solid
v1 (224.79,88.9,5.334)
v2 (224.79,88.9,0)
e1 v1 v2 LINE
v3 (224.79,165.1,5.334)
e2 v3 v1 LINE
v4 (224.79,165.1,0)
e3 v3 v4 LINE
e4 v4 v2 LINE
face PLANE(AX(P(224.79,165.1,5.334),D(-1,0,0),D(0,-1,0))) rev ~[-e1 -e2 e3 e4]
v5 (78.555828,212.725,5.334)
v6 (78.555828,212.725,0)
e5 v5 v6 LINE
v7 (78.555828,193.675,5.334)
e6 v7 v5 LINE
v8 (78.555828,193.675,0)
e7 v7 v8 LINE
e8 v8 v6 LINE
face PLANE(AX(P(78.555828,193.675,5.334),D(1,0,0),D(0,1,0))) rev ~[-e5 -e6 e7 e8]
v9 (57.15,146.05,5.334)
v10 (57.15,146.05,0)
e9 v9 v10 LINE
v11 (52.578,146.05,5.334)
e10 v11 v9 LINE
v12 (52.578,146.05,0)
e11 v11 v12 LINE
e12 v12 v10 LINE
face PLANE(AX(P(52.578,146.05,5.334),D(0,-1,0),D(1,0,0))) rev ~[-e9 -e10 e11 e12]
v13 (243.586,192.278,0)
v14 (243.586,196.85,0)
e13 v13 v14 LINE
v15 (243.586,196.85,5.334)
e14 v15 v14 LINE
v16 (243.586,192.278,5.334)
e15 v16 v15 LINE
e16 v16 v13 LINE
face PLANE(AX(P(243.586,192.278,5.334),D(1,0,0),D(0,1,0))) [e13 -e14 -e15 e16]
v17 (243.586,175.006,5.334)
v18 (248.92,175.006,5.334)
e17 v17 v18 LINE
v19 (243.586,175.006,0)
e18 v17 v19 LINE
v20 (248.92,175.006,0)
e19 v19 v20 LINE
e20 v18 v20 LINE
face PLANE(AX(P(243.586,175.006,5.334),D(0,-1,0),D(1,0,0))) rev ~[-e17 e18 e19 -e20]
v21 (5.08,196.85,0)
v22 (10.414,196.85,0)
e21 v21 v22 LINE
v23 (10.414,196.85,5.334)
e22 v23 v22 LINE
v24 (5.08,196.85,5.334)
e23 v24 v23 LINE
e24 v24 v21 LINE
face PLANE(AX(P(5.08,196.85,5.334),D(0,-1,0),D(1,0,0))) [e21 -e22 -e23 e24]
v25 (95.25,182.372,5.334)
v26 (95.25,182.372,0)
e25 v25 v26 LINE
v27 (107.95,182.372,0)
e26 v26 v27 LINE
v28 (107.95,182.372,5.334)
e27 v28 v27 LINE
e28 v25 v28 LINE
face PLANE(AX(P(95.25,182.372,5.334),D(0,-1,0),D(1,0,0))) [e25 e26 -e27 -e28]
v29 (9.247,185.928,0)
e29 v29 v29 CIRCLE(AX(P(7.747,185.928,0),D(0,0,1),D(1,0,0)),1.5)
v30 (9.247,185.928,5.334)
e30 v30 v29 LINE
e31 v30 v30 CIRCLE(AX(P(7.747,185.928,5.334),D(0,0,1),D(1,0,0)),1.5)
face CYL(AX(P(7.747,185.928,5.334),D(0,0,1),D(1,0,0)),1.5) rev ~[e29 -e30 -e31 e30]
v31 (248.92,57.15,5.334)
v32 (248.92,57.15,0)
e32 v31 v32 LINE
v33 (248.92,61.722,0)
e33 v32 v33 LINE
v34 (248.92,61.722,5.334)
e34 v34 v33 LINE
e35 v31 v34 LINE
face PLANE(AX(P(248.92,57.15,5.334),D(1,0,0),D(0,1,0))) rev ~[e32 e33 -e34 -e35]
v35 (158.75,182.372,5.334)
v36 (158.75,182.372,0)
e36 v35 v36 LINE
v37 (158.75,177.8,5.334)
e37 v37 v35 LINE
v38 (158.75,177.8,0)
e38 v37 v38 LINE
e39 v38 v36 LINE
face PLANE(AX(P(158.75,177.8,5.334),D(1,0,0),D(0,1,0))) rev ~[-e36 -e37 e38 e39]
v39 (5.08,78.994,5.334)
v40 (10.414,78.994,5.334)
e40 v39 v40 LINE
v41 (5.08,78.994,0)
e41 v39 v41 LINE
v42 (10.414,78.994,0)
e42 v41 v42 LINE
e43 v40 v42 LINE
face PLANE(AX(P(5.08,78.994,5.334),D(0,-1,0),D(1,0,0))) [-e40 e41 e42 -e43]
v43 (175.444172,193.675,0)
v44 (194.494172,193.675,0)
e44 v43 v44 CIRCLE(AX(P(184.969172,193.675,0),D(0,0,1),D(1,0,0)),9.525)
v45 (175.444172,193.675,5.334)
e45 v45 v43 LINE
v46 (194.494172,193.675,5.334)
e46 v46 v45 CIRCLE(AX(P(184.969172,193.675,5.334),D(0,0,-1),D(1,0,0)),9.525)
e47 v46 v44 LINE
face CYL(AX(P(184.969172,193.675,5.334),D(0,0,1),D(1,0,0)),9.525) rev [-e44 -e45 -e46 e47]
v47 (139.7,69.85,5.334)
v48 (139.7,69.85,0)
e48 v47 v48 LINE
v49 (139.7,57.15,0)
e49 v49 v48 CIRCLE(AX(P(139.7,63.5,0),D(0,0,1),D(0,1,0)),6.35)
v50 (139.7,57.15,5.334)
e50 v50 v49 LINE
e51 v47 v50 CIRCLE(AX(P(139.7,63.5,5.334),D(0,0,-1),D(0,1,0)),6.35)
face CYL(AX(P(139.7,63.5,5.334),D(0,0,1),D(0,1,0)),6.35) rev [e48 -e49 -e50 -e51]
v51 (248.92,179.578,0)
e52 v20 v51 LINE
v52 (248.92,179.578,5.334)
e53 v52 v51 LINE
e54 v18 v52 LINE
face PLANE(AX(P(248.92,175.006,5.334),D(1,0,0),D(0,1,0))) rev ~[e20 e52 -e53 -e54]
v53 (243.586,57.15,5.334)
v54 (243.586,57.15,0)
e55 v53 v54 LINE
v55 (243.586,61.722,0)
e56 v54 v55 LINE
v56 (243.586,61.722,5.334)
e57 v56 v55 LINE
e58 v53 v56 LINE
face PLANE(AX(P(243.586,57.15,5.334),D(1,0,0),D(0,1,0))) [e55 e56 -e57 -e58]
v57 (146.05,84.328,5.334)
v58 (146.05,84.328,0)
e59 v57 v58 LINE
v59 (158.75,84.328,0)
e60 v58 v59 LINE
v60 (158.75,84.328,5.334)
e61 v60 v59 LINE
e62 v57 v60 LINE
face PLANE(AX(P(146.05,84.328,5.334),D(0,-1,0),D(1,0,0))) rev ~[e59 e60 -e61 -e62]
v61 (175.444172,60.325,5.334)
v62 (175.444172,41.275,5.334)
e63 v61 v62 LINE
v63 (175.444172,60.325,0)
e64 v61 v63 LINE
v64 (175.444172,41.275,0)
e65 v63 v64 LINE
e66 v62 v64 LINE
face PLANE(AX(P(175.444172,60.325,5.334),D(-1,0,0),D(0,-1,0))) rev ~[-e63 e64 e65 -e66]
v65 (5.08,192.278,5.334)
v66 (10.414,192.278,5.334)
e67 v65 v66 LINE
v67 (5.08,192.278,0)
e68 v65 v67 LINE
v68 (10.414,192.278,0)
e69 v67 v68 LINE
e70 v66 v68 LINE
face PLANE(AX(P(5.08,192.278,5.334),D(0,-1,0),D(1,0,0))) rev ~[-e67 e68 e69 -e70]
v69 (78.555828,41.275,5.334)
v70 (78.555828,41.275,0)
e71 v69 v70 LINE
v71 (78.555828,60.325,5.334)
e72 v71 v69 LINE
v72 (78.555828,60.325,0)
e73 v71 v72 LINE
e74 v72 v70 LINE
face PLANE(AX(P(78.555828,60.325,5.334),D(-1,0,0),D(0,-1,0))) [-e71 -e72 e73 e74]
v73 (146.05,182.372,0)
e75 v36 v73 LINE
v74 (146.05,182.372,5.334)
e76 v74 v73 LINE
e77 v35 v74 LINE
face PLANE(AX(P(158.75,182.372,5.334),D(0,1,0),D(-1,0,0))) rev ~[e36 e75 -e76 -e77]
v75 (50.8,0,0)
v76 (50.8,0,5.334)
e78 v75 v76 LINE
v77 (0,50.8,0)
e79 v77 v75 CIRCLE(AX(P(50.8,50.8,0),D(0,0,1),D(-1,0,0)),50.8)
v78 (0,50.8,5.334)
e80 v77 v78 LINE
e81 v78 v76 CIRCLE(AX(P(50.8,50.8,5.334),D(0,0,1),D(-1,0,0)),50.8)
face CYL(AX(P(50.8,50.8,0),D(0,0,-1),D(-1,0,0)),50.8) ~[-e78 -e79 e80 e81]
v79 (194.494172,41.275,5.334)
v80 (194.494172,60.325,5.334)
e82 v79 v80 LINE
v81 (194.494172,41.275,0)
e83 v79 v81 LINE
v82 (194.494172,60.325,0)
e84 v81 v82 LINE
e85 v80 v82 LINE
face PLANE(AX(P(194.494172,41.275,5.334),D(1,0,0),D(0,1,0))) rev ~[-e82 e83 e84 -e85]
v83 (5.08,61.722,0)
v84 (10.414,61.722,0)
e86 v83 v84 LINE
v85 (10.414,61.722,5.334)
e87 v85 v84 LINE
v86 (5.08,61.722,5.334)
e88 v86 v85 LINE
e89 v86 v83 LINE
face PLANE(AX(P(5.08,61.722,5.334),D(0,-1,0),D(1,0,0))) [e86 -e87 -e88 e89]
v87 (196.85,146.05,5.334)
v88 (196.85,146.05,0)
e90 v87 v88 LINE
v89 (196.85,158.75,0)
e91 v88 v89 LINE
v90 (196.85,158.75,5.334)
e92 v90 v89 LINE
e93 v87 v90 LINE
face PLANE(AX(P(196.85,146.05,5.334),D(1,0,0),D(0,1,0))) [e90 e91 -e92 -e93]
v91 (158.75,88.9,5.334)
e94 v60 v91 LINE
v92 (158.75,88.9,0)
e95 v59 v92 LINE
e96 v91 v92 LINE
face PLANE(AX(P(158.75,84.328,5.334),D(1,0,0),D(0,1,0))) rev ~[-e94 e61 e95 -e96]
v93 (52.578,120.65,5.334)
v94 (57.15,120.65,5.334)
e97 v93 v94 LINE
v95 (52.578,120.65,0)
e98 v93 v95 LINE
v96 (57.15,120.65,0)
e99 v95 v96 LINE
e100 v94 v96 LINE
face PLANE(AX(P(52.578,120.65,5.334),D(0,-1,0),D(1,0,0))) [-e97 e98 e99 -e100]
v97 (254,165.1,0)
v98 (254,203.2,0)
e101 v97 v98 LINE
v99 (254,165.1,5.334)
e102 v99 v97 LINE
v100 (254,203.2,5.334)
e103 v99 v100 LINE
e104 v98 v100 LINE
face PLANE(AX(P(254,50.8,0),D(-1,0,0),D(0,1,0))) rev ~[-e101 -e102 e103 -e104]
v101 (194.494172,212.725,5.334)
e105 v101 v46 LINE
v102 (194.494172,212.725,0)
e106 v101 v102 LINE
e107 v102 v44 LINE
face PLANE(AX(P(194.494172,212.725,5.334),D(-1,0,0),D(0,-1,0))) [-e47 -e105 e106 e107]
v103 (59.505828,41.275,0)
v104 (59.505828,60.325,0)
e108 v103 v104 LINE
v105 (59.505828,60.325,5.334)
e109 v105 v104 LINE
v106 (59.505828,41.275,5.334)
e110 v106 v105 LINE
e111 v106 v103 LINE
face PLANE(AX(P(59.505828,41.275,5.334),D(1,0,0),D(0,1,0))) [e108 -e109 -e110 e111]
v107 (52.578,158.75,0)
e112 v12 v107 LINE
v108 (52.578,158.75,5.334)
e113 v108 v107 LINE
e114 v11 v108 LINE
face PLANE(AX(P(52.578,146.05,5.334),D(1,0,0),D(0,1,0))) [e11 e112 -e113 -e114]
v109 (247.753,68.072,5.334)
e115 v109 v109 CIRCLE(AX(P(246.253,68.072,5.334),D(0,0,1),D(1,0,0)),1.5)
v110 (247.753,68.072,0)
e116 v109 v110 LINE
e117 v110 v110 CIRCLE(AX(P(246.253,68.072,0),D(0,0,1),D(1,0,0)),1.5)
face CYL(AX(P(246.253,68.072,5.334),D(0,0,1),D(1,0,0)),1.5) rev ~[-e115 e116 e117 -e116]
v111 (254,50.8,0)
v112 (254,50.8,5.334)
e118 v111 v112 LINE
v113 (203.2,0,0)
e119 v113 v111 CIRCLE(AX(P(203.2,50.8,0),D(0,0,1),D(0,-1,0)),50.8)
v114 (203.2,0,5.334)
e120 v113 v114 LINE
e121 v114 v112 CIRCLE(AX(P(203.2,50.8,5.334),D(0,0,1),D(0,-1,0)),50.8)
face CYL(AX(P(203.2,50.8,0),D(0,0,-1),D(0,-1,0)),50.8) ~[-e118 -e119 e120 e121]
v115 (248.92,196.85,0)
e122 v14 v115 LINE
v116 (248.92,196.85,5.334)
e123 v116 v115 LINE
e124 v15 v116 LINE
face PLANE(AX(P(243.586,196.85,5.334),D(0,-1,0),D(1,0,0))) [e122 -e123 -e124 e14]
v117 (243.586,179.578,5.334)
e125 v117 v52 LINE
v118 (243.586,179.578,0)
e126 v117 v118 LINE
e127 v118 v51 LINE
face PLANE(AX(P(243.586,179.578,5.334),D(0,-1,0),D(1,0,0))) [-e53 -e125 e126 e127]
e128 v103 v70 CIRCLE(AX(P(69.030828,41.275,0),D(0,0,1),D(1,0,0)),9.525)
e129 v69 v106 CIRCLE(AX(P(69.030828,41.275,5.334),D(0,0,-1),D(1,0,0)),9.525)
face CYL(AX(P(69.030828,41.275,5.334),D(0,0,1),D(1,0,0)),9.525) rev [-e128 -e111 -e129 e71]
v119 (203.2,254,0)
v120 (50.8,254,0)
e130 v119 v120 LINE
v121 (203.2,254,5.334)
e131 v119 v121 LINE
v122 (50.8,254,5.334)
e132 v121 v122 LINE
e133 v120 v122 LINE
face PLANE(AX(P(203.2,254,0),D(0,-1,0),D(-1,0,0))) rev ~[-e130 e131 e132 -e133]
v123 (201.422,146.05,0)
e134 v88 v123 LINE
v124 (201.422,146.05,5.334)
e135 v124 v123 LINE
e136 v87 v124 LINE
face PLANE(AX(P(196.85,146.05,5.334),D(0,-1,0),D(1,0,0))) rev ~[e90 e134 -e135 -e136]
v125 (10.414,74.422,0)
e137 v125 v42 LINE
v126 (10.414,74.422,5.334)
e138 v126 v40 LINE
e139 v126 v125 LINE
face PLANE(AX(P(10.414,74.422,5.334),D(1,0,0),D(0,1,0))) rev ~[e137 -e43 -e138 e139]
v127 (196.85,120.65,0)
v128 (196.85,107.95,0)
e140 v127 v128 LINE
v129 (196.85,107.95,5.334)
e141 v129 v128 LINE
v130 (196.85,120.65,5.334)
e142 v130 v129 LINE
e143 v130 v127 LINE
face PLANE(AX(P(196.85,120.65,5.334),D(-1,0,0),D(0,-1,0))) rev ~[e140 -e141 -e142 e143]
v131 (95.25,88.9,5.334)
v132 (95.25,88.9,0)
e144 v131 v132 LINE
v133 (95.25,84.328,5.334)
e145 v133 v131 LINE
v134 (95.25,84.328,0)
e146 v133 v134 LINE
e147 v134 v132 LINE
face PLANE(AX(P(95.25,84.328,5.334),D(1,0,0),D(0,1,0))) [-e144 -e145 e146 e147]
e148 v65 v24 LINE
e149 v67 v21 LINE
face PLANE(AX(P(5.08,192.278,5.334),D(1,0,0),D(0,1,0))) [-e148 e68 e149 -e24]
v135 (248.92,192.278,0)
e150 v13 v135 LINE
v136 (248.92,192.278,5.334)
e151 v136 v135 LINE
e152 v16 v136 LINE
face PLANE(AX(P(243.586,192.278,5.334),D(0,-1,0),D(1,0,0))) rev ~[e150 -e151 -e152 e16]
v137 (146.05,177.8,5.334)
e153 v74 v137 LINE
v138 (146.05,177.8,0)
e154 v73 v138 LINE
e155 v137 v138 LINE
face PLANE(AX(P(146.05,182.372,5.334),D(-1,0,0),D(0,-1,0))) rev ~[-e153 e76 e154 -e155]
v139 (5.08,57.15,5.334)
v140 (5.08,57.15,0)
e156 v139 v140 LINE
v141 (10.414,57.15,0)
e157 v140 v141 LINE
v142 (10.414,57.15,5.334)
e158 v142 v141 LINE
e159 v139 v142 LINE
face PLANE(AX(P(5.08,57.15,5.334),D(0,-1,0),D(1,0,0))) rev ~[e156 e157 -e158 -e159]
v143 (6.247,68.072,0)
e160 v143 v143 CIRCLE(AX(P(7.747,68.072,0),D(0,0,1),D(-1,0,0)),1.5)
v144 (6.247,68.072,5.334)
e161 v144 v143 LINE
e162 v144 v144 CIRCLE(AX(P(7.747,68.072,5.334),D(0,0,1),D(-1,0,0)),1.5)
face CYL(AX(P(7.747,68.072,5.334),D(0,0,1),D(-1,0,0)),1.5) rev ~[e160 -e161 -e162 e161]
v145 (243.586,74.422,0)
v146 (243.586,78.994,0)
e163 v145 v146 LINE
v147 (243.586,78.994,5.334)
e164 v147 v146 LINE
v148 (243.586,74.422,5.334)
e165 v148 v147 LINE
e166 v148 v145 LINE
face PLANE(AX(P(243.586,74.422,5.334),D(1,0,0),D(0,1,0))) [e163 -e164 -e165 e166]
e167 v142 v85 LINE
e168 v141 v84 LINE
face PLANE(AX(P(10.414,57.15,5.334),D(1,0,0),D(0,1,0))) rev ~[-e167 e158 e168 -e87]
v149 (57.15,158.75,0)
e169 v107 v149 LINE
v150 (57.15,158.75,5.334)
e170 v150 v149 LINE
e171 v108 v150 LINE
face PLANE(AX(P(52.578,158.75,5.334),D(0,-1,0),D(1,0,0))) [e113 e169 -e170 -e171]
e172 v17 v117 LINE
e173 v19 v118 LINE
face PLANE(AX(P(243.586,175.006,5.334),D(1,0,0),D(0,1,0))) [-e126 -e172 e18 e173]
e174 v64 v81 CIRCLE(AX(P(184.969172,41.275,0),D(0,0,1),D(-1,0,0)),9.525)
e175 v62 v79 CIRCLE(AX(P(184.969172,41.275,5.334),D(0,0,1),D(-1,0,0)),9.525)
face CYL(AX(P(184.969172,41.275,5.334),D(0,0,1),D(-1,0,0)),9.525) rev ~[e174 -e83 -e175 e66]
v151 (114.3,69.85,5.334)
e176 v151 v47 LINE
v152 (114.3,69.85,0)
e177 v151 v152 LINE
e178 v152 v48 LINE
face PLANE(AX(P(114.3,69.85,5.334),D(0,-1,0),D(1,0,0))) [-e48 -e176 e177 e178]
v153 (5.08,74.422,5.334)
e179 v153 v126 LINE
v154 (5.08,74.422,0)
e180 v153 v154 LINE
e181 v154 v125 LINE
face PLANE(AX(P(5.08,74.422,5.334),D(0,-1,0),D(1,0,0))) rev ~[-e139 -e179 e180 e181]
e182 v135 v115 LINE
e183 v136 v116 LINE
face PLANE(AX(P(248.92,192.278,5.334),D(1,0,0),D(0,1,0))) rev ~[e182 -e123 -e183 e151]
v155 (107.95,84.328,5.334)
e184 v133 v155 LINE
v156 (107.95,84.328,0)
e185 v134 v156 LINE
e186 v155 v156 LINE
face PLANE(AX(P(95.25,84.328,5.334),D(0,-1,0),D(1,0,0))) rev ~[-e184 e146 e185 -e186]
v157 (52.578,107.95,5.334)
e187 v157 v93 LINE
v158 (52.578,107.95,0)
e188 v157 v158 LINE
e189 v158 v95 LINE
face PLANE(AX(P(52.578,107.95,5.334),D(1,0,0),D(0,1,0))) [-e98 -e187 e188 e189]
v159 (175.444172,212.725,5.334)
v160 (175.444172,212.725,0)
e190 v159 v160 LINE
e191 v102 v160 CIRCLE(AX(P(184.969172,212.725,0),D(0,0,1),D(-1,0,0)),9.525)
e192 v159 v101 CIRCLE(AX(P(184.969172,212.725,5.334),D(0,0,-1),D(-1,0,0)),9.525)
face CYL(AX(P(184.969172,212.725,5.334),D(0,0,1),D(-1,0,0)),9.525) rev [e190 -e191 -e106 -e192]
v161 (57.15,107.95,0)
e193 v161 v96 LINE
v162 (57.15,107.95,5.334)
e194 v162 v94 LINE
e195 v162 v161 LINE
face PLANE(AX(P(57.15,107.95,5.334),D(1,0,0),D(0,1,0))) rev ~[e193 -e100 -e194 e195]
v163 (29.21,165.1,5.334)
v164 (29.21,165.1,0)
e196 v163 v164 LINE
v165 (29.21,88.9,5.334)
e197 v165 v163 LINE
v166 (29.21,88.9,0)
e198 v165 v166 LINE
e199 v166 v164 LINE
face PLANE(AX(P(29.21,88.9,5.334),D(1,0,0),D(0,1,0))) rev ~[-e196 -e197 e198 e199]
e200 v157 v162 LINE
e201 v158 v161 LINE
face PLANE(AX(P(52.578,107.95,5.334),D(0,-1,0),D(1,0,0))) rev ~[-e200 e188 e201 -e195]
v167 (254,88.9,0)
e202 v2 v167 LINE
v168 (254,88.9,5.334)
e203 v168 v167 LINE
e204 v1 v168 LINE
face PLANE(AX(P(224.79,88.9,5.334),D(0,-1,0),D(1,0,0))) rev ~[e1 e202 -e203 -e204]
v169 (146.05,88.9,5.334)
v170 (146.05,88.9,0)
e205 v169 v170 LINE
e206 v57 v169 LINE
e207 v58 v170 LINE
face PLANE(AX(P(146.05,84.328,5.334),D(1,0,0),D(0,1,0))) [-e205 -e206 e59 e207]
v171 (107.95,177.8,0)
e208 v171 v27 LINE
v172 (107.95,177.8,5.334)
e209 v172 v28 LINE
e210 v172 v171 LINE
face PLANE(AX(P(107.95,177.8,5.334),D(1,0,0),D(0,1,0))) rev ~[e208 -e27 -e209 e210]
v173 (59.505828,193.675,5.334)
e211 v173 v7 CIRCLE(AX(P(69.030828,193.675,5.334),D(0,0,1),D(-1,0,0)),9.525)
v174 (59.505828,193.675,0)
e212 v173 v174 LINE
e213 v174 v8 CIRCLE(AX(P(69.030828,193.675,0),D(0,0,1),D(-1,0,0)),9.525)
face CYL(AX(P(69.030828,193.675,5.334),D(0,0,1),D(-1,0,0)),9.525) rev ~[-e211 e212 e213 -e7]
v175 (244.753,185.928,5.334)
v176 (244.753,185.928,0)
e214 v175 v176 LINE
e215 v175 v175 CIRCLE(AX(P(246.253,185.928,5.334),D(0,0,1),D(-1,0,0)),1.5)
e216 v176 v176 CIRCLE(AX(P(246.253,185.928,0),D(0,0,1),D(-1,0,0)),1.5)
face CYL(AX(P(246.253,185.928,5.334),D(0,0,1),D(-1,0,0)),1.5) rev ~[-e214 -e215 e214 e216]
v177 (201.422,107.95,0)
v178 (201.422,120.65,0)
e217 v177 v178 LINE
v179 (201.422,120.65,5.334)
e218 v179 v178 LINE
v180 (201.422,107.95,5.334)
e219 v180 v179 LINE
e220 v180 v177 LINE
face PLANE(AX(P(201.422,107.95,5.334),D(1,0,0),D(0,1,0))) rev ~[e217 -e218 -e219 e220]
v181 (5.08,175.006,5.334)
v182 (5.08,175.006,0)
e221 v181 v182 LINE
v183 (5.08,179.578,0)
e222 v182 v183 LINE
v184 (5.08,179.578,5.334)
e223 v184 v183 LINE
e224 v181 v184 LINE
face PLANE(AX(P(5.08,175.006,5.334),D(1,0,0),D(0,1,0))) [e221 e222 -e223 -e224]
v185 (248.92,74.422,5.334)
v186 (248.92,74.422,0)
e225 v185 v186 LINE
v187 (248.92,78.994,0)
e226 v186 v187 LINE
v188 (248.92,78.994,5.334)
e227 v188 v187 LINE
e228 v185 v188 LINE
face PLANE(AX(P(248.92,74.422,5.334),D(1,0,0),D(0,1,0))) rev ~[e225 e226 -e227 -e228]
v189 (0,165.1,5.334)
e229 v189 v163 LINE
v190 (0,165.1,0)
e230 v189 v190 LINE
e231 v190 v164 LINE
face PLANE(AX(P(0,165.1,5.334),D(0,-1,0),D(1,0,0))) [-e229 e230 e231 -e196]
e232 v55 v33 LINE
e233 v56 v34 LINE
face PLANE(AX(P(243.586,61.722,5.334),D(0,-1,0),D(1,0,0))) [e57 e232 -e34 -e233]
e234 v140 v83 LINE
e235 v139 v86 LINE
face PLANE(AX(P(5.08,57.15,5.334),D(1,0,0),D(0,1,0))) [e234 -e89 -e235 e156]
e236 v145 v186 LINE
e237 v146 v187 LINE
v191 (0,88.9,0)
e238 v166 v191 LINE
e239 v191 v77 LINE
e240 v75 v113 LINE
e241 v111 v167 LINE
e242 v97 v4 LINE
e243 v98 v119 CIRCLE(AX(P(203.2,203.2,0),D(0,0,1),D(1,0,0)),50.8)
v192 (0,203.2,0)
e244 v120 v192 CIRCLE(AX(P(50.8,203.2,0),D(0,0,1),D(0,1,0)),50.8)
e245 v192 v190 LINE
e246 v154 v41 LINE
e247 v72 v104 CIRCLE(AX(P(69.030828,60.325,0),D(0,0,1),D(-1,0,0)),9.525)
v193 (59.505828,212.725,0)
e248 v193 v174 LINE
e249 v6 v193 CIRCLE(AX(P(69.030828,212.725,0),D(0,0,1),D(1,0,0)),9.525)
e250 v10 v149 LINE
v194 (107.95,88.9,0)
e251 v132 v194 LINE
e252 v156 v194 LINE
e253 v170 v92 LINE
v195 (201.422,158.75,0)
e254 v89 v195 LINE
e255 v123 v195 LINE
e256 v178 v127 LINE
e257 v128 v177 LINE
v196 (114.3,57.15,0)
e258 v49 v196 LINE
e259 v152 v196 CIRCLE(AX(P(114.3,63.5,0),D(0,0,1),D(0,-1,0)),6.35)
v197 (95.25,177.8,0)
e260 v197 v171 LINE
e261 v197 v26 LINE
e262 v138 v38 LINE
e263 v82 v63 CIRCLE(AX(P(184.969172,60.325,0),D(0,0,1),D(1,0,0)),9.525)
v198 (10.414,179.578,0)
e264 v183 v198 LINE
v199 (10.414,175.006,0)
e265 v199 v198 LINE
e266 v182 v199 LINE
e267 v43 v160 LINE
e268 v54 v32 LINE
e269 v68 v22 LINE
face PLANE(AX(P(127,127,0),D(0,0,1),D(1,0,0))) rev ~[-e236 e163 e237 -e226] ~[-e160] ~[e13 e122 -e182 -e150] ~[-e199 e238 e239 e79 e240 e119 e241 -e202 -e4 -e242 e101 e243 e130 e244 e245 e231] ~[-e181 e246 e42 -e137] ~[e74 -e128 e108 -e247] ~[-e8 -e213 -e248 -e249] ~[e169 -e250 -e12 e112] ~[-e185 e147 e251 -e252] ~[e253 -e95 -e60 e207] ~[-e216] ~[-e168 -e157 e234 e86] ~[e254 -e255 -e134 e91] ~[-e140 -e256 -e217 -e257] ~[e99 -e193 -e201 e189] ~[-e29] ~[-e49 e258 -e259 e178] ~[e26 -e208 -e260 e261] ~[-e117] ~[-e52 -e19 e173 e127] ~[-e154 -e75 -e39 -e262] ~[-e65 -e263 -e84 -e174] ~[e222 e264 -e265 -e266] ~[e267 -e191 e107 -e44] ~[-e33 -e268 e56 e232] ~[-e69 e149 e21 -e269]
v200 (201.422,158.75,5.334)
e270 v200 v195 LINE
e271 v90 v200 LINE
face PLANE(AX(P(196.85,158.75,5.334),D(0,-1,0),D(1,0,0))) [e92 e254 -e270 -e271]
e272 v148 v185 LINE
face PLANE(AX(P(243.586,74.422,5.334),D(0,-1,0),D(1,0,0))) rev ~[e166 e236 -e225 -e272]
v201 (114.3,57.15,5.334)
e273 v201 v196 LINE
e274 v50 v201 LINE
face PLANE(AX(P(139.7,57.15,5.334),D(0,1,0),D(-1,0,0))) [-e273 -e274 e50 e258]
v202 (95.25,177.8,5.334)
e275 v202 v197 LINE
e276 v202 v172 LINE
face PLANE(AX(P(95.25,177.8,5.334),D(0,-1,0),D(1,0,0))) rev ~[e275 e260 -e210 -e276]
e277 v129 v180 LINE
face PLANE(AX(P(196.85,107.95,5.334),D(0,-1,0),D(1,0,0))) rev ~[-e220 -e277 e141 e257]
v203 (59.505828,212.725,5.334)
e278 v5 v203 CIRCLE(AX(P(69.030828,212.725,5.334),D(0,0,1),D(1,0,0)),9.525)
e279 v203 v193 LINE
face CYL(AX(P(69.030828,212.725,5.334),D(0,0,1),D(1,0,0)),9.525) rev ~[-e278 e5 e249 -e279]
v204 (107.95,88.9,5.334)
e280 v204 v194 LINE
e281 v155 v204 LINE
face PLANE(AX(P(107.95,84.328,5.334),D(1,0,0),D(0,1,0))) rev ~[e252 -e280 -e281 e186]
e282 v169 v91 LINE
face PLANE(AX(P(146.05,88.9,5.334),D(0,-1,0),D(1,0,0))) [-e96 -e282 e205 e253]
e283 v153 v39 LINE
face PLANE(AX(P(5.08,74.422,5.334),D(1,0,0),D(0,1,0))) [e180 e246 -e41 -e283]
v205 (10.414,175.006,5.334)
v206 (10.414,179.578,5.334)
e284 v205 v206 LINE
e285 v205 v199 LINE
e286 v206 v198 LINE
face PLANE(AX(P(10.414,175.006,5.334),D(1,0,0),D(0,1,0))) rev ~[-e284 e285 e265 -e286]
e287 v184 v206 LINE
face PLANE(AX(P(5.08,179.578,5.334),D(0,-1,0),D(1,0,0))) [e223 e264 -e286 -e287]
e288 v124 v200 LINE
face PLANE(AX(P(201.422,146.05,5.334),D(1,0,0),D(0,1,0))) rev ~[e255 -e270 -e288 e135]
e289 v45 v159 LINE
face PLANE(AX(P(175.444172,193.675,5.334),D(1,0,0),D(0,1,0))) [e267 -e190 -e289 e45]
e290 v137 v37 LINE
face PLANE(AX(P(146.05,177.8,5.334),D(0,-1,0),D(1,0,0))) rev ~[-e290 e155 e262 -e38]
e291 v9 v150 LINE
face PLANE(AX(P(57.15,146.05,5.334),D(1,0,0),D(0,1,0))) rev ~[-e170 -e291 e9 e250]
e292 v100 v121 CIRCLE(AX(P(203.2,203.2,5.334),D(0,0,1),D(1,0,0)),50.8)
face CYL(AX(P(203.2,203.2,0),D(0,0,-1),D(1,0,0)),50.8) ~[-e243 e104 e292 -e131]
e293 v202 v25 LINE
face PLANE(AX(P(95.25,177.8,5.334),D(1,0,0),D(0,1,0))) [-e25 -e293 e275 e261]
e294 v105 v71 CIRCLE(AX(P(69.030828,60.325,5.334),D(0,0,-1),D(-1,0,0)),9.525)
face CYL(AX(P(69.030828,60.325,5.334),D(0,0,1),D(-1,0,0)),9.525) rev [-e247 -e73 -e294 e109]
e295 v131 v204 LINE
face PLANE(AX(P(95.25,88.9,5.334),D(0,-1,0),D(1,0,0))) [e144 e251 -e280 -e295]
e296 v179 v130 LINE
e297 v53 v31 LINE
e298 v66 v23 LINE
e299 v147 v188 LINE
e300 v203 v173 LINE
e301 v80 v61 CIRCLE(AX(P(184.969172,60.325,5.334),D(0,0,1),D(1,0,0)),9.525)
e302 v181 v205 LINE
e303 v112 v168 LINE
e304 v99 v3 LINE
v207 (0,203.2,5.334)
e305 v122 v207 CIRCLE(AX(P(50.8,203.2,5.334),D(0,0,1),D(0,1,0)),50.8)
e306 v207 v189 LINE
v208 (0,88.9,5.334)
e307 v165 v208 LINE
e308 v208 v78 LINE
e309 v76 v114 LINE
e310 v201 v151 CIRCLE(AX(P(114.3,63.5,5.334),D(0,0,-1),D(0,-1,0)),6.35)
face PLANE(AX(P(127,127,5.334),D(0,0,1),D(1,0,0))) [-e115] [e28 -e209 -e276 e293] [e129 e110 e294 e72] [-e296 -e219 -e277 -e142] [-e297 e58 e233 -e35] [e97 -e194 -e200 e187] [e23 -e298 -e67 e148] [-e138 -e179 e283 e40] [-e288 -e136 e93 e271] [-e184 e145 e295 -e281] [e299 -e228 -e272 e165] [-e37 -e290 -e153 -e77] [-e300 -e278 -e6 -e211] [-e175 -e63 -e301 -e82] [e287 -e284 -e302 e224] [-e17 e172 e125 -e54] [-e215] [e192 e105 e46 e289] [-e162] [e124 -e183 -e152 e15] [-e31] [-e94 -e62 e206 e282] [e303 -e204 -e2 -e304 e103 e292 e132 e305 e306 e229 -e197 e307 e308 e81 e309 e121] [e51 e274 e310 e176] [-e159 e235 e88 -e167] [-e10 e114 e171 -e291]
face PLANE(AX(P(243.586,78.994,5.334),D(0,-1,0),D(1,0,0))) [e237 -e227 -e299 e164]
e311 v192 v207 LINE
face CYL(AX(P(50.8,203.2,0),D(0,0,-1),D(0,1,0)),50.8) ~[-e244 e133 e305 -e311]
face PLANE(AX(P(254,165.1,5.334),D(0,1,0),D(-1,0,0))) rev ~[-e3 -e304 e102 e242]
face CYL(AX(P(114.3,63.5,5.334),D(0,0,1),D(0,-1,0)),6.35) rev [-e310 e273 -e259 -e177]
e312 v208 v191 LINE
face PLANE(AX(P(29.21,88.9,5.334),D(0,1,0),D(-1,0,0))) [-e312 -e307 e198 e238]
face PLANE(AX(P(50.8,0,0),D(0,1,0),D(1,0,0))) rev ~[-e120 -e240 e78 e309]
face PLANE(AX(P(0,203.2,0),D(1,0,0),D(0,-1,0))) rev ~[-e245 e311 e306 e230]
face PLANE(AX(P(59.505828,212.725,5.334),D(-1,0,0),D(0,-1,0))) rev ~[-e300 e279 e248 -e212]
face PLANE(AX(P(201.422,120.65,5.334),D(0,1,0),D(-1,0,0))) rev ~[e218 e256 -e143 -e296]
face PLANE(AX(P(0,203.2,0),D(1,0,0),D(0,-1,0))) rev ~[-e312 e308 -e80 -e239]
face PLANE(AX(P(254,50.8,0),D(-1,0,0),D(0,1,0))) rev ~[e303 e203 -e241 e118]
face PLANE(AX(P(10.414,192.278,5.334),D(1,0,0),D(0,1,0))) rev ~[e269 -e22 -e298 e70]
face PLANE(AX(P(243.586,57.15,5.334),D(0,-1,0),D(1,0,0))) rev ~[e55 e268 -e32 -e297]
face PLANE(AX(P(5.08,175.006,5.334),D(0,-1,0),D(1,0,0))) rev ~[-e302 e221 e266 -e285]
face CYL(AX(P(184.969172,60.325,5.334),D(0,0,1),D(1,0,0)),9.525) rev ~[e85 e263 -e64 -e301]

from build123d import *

# Parameters (mm, degrees)
BOSS_EXTRUDE1_DEPTH = 5.334
CUT_EXTRUDE1_DEPTH  = 5.334
SKETCH6_R           = 1.5
SKETCH6_W           = 5.334
SKETCH6_H           = 4.572
CUT_EXTRUDE4_DEPTH  = 360.249845589
CUT_EXTRUDE5_DEPTH  = 360.249845589
CUT_EXTRUDE6_DEPTH  = 7.62
SKETCH11_W          = 12.7
SKETCH11_H          = 4.572
SKETCH11_W_2        = 4.572
SKETCH11_H_2        = 12.7
CUT_EXTRUDE9_DEPTH  = 360.249845589


with BuildPart() as part:
    # Sketch1 → Boss-Extrude1 (new body)
    with BuildSketch(Plane.XY):
        with BuildLine():
            Line((50.8, 0), (203.2, 0))
            ThreePointArc((203.2, 0), (239.121024484, 14.878975516), (254, 50.8))
            Line((254, 50.8), (254, 203.2))
            ThreePointArc((254, 203.2), (239.121024484, 239.121024484), (203.2, 254))
            Line((203.2, 254), (50.8, 254))
            ThreePointArc((50.8, 254), (14.878975516, 239.121024484), (0, 203.2))
            Line((0, 203.2), (0, 50.8))
            ThreePointArc((0, 50.8), (14.878975516, 14.878975516), (50.8, 0))
        make_face()
    extrude(amount=BOSS_EXTRUDE1_DEPTH)

    # Sketch3 → Cut-Extrude1 (cut)
    with BuildSketch(Plane.XY.offset(5.334)):
        Polygon((29.21, 95.25), (29.21, 88.9), (0, 88.9), (0, 165.1), (29.21, 165.1), (29.21, 158.75), (29.21, 146.05), (29.21, 133.35), (29.21, 120.65), (29.21, 107.95), align=None)
        Polygon((254, 165.1), (224.79, 165.1), (224.79, 158.75), (224.79, 146.05), (224.79, 133.35), (224.79, 120.65), (224.79, 107.95), (224.79, 95.25), (224.79, 88.9), (254, 88.9), align=None)
    extrude(amount=-CUT_EXTRUDE1_DEPTH, mode=Mode.SUBTRACT)

    # Sketch6 → Cut-Extrude4 (cut, through all)
    with BuildSketch(Plane.XY.offset(5.334)):
        with Locations((7.747, 185.928)):
            Circle(SKETCH6_R)
        with Locations(Location((246.253, 185.928, 0), (0, 0, 180))):
            Circle(SKETCH6_R)
        with Locations((246.253, 68.072)):
            Circle(SKETCH6_R)
        with Locations(Location((7.747, 68.072, 0), (0, 0, 180))):
            Circle(SKETCH6_R)
        with Locations((7.747, 194.564)):
            Rectangle(SKETCH6_W, SKETCH6_H)
        with Locations((7.747, 177.292)):
            Rectangle(SKETCH6_W, SKETCH6_H)
        with Locations((246.253, 177.292)):
            Rectangle(SKETCH6_W, SKETCH6_H)
        with Locations((246.253, 194.564)):
            Rectangle(SKETCH6_W, SKETCH6_H)
        with Locations((246.253, 59.436)):
            Rectangle(SKETCH6_W, SKETCH6_H)
        with Locations((246.253, 76.708)):
            Rectangle(SKETCH6_W, SKETCH6_H)
        with Locations((7.747, 76.708)):
            Rectangle(SKETCH6_W, SKETCH6_H)
        with Locations((7.747, 59.436)):
            Rectangle(SKETCH6_W, SKETCH6_H)
    extrude(amount=-CUT_EXTRUDE4_DEPTH, mode=Mode.SUBTRACT)

    # Sketch7 → Cut-Extrude5 (cut, through all)
    with BuildSketch(Plane.XY.offset(5.334)):
        with BuildLine():
            Line((78.555827904, 60.325), (78.555827904, 41.275))
            ThreePointArc((78.555827904, 41.275), (69.030827904, 31.75), (59.505827904, 41.275))
            Line((59.505827904, 41.275), (59.505827904, 60.325))
            ThreePointArc((59.505827904, 60.325), (69.030827904, 69.85), (78.555827904, 60.325))
        make_face()
        with BuildLine():
            Line((175.444172096, 60.325), (175.444172096, 41.275))
            ThreePointArc((175.444172096, 41.275), (184.969172096, 31.75), (194.494172096, 41.275))
            Line((194.494172096, 41.275), (194.494172096, 60.325))
            ThreePointArc((194.494172096, 60.325), (184.969172096, 69.85), (175.444172096, 60.325))
        make_face()
        with BuildLine():
            Line((175.444172096, 193.675), (175.444172096, 212.725))
            ThreePointArc((175.444172096, 212.725), (184.969172096, 222.25), (194.494172096, 212.725))
            Line((194.494172096, 212.725), (194.494172096, 193.675))
            ThreePointArc((194.494172096, 193.675), (184.969172096, 184.15), (175.444172096, 193.675))
        make_face()
        with BuildLine():
            Line((78.555827904, 193.675), (78.555827904, 212.725))
            ThreePointArc((78.555827904, 212.725), (69.030827904, 222.25), (59.505827904, 212.725))
            Line((59.505827904, 212.725), (59.505827904, 193.675))
            ThreePointArc((59.505827904, 193.675), (69.030827904, 184.15), (78.555827904, 193.675))
        make_face()
    extrude(amount=-CUT_EXTRUDE5_DEPTH, mode=Mode.SUBTRACT)

    # Sketch8 → Cut-Extrude6 (cut)
    with BuildSketch(Plane.XY.offset(5.334)):
        with BuildLine():
            Line((114.3, 69.85), (139.7, 69.85))
            ThreePointArc((139.7, 69.85), (146.05, 63.5), (139.7, 57.15))
            Line((139.7, 57.15), (114.3, 57.15))
            ThreePointArc((114.3, 57.15), (107.95, 63.5), (114.3, 69.85))
        make_face()
    extrude(amount=-CUT_EXTRUDE6_DEPTH, mode=Mode.SUBTRACT)

    # Sketch11 → Cut-Extrude9 (cut, through all)
    with BuildSketch(Plane.XY.offset(5.334)):
        Polygon((146.05, 182.372), (146.05, 177.8), (158.603579352, 177.8), (158.75, 177.8), (158.75, 182.372), align=None)
        with Locations((101.6, 180.086)):
            Rectangle(SKETCH11_W, SKETCH11_H)
        with Locations((199.136, 152.4)):
            Rectangle(SKETCH11_W_2, SKETCH11_H_2)
        Polygon((196.85, 108.5), (196.85, 107.95), (201.422, 107.95), (201.422, 120.65), (196.85, 120.65), align=None)
        with Locations((152.4, 86.614)):
            Rectangle(SKETCH11_W, SKETCH11_H)
        with Locations((101.6, 86.614)):
            Rectangle(SKETCH11_W, SKETCH11_H)
        with Locations((54.864, 114.3)):
            Rectangle(SKETCH11_W_2, SKETCH11_H_2)
        with Locations((54.864, 152.4)):
            Rectangle(SKETCH11_W_2, SKETCH11_H_2)
    extrude(amount=-CUT_EXTRUDE9_DEPTH, mode=Mode.SUBTRACT)


solid = part.part
